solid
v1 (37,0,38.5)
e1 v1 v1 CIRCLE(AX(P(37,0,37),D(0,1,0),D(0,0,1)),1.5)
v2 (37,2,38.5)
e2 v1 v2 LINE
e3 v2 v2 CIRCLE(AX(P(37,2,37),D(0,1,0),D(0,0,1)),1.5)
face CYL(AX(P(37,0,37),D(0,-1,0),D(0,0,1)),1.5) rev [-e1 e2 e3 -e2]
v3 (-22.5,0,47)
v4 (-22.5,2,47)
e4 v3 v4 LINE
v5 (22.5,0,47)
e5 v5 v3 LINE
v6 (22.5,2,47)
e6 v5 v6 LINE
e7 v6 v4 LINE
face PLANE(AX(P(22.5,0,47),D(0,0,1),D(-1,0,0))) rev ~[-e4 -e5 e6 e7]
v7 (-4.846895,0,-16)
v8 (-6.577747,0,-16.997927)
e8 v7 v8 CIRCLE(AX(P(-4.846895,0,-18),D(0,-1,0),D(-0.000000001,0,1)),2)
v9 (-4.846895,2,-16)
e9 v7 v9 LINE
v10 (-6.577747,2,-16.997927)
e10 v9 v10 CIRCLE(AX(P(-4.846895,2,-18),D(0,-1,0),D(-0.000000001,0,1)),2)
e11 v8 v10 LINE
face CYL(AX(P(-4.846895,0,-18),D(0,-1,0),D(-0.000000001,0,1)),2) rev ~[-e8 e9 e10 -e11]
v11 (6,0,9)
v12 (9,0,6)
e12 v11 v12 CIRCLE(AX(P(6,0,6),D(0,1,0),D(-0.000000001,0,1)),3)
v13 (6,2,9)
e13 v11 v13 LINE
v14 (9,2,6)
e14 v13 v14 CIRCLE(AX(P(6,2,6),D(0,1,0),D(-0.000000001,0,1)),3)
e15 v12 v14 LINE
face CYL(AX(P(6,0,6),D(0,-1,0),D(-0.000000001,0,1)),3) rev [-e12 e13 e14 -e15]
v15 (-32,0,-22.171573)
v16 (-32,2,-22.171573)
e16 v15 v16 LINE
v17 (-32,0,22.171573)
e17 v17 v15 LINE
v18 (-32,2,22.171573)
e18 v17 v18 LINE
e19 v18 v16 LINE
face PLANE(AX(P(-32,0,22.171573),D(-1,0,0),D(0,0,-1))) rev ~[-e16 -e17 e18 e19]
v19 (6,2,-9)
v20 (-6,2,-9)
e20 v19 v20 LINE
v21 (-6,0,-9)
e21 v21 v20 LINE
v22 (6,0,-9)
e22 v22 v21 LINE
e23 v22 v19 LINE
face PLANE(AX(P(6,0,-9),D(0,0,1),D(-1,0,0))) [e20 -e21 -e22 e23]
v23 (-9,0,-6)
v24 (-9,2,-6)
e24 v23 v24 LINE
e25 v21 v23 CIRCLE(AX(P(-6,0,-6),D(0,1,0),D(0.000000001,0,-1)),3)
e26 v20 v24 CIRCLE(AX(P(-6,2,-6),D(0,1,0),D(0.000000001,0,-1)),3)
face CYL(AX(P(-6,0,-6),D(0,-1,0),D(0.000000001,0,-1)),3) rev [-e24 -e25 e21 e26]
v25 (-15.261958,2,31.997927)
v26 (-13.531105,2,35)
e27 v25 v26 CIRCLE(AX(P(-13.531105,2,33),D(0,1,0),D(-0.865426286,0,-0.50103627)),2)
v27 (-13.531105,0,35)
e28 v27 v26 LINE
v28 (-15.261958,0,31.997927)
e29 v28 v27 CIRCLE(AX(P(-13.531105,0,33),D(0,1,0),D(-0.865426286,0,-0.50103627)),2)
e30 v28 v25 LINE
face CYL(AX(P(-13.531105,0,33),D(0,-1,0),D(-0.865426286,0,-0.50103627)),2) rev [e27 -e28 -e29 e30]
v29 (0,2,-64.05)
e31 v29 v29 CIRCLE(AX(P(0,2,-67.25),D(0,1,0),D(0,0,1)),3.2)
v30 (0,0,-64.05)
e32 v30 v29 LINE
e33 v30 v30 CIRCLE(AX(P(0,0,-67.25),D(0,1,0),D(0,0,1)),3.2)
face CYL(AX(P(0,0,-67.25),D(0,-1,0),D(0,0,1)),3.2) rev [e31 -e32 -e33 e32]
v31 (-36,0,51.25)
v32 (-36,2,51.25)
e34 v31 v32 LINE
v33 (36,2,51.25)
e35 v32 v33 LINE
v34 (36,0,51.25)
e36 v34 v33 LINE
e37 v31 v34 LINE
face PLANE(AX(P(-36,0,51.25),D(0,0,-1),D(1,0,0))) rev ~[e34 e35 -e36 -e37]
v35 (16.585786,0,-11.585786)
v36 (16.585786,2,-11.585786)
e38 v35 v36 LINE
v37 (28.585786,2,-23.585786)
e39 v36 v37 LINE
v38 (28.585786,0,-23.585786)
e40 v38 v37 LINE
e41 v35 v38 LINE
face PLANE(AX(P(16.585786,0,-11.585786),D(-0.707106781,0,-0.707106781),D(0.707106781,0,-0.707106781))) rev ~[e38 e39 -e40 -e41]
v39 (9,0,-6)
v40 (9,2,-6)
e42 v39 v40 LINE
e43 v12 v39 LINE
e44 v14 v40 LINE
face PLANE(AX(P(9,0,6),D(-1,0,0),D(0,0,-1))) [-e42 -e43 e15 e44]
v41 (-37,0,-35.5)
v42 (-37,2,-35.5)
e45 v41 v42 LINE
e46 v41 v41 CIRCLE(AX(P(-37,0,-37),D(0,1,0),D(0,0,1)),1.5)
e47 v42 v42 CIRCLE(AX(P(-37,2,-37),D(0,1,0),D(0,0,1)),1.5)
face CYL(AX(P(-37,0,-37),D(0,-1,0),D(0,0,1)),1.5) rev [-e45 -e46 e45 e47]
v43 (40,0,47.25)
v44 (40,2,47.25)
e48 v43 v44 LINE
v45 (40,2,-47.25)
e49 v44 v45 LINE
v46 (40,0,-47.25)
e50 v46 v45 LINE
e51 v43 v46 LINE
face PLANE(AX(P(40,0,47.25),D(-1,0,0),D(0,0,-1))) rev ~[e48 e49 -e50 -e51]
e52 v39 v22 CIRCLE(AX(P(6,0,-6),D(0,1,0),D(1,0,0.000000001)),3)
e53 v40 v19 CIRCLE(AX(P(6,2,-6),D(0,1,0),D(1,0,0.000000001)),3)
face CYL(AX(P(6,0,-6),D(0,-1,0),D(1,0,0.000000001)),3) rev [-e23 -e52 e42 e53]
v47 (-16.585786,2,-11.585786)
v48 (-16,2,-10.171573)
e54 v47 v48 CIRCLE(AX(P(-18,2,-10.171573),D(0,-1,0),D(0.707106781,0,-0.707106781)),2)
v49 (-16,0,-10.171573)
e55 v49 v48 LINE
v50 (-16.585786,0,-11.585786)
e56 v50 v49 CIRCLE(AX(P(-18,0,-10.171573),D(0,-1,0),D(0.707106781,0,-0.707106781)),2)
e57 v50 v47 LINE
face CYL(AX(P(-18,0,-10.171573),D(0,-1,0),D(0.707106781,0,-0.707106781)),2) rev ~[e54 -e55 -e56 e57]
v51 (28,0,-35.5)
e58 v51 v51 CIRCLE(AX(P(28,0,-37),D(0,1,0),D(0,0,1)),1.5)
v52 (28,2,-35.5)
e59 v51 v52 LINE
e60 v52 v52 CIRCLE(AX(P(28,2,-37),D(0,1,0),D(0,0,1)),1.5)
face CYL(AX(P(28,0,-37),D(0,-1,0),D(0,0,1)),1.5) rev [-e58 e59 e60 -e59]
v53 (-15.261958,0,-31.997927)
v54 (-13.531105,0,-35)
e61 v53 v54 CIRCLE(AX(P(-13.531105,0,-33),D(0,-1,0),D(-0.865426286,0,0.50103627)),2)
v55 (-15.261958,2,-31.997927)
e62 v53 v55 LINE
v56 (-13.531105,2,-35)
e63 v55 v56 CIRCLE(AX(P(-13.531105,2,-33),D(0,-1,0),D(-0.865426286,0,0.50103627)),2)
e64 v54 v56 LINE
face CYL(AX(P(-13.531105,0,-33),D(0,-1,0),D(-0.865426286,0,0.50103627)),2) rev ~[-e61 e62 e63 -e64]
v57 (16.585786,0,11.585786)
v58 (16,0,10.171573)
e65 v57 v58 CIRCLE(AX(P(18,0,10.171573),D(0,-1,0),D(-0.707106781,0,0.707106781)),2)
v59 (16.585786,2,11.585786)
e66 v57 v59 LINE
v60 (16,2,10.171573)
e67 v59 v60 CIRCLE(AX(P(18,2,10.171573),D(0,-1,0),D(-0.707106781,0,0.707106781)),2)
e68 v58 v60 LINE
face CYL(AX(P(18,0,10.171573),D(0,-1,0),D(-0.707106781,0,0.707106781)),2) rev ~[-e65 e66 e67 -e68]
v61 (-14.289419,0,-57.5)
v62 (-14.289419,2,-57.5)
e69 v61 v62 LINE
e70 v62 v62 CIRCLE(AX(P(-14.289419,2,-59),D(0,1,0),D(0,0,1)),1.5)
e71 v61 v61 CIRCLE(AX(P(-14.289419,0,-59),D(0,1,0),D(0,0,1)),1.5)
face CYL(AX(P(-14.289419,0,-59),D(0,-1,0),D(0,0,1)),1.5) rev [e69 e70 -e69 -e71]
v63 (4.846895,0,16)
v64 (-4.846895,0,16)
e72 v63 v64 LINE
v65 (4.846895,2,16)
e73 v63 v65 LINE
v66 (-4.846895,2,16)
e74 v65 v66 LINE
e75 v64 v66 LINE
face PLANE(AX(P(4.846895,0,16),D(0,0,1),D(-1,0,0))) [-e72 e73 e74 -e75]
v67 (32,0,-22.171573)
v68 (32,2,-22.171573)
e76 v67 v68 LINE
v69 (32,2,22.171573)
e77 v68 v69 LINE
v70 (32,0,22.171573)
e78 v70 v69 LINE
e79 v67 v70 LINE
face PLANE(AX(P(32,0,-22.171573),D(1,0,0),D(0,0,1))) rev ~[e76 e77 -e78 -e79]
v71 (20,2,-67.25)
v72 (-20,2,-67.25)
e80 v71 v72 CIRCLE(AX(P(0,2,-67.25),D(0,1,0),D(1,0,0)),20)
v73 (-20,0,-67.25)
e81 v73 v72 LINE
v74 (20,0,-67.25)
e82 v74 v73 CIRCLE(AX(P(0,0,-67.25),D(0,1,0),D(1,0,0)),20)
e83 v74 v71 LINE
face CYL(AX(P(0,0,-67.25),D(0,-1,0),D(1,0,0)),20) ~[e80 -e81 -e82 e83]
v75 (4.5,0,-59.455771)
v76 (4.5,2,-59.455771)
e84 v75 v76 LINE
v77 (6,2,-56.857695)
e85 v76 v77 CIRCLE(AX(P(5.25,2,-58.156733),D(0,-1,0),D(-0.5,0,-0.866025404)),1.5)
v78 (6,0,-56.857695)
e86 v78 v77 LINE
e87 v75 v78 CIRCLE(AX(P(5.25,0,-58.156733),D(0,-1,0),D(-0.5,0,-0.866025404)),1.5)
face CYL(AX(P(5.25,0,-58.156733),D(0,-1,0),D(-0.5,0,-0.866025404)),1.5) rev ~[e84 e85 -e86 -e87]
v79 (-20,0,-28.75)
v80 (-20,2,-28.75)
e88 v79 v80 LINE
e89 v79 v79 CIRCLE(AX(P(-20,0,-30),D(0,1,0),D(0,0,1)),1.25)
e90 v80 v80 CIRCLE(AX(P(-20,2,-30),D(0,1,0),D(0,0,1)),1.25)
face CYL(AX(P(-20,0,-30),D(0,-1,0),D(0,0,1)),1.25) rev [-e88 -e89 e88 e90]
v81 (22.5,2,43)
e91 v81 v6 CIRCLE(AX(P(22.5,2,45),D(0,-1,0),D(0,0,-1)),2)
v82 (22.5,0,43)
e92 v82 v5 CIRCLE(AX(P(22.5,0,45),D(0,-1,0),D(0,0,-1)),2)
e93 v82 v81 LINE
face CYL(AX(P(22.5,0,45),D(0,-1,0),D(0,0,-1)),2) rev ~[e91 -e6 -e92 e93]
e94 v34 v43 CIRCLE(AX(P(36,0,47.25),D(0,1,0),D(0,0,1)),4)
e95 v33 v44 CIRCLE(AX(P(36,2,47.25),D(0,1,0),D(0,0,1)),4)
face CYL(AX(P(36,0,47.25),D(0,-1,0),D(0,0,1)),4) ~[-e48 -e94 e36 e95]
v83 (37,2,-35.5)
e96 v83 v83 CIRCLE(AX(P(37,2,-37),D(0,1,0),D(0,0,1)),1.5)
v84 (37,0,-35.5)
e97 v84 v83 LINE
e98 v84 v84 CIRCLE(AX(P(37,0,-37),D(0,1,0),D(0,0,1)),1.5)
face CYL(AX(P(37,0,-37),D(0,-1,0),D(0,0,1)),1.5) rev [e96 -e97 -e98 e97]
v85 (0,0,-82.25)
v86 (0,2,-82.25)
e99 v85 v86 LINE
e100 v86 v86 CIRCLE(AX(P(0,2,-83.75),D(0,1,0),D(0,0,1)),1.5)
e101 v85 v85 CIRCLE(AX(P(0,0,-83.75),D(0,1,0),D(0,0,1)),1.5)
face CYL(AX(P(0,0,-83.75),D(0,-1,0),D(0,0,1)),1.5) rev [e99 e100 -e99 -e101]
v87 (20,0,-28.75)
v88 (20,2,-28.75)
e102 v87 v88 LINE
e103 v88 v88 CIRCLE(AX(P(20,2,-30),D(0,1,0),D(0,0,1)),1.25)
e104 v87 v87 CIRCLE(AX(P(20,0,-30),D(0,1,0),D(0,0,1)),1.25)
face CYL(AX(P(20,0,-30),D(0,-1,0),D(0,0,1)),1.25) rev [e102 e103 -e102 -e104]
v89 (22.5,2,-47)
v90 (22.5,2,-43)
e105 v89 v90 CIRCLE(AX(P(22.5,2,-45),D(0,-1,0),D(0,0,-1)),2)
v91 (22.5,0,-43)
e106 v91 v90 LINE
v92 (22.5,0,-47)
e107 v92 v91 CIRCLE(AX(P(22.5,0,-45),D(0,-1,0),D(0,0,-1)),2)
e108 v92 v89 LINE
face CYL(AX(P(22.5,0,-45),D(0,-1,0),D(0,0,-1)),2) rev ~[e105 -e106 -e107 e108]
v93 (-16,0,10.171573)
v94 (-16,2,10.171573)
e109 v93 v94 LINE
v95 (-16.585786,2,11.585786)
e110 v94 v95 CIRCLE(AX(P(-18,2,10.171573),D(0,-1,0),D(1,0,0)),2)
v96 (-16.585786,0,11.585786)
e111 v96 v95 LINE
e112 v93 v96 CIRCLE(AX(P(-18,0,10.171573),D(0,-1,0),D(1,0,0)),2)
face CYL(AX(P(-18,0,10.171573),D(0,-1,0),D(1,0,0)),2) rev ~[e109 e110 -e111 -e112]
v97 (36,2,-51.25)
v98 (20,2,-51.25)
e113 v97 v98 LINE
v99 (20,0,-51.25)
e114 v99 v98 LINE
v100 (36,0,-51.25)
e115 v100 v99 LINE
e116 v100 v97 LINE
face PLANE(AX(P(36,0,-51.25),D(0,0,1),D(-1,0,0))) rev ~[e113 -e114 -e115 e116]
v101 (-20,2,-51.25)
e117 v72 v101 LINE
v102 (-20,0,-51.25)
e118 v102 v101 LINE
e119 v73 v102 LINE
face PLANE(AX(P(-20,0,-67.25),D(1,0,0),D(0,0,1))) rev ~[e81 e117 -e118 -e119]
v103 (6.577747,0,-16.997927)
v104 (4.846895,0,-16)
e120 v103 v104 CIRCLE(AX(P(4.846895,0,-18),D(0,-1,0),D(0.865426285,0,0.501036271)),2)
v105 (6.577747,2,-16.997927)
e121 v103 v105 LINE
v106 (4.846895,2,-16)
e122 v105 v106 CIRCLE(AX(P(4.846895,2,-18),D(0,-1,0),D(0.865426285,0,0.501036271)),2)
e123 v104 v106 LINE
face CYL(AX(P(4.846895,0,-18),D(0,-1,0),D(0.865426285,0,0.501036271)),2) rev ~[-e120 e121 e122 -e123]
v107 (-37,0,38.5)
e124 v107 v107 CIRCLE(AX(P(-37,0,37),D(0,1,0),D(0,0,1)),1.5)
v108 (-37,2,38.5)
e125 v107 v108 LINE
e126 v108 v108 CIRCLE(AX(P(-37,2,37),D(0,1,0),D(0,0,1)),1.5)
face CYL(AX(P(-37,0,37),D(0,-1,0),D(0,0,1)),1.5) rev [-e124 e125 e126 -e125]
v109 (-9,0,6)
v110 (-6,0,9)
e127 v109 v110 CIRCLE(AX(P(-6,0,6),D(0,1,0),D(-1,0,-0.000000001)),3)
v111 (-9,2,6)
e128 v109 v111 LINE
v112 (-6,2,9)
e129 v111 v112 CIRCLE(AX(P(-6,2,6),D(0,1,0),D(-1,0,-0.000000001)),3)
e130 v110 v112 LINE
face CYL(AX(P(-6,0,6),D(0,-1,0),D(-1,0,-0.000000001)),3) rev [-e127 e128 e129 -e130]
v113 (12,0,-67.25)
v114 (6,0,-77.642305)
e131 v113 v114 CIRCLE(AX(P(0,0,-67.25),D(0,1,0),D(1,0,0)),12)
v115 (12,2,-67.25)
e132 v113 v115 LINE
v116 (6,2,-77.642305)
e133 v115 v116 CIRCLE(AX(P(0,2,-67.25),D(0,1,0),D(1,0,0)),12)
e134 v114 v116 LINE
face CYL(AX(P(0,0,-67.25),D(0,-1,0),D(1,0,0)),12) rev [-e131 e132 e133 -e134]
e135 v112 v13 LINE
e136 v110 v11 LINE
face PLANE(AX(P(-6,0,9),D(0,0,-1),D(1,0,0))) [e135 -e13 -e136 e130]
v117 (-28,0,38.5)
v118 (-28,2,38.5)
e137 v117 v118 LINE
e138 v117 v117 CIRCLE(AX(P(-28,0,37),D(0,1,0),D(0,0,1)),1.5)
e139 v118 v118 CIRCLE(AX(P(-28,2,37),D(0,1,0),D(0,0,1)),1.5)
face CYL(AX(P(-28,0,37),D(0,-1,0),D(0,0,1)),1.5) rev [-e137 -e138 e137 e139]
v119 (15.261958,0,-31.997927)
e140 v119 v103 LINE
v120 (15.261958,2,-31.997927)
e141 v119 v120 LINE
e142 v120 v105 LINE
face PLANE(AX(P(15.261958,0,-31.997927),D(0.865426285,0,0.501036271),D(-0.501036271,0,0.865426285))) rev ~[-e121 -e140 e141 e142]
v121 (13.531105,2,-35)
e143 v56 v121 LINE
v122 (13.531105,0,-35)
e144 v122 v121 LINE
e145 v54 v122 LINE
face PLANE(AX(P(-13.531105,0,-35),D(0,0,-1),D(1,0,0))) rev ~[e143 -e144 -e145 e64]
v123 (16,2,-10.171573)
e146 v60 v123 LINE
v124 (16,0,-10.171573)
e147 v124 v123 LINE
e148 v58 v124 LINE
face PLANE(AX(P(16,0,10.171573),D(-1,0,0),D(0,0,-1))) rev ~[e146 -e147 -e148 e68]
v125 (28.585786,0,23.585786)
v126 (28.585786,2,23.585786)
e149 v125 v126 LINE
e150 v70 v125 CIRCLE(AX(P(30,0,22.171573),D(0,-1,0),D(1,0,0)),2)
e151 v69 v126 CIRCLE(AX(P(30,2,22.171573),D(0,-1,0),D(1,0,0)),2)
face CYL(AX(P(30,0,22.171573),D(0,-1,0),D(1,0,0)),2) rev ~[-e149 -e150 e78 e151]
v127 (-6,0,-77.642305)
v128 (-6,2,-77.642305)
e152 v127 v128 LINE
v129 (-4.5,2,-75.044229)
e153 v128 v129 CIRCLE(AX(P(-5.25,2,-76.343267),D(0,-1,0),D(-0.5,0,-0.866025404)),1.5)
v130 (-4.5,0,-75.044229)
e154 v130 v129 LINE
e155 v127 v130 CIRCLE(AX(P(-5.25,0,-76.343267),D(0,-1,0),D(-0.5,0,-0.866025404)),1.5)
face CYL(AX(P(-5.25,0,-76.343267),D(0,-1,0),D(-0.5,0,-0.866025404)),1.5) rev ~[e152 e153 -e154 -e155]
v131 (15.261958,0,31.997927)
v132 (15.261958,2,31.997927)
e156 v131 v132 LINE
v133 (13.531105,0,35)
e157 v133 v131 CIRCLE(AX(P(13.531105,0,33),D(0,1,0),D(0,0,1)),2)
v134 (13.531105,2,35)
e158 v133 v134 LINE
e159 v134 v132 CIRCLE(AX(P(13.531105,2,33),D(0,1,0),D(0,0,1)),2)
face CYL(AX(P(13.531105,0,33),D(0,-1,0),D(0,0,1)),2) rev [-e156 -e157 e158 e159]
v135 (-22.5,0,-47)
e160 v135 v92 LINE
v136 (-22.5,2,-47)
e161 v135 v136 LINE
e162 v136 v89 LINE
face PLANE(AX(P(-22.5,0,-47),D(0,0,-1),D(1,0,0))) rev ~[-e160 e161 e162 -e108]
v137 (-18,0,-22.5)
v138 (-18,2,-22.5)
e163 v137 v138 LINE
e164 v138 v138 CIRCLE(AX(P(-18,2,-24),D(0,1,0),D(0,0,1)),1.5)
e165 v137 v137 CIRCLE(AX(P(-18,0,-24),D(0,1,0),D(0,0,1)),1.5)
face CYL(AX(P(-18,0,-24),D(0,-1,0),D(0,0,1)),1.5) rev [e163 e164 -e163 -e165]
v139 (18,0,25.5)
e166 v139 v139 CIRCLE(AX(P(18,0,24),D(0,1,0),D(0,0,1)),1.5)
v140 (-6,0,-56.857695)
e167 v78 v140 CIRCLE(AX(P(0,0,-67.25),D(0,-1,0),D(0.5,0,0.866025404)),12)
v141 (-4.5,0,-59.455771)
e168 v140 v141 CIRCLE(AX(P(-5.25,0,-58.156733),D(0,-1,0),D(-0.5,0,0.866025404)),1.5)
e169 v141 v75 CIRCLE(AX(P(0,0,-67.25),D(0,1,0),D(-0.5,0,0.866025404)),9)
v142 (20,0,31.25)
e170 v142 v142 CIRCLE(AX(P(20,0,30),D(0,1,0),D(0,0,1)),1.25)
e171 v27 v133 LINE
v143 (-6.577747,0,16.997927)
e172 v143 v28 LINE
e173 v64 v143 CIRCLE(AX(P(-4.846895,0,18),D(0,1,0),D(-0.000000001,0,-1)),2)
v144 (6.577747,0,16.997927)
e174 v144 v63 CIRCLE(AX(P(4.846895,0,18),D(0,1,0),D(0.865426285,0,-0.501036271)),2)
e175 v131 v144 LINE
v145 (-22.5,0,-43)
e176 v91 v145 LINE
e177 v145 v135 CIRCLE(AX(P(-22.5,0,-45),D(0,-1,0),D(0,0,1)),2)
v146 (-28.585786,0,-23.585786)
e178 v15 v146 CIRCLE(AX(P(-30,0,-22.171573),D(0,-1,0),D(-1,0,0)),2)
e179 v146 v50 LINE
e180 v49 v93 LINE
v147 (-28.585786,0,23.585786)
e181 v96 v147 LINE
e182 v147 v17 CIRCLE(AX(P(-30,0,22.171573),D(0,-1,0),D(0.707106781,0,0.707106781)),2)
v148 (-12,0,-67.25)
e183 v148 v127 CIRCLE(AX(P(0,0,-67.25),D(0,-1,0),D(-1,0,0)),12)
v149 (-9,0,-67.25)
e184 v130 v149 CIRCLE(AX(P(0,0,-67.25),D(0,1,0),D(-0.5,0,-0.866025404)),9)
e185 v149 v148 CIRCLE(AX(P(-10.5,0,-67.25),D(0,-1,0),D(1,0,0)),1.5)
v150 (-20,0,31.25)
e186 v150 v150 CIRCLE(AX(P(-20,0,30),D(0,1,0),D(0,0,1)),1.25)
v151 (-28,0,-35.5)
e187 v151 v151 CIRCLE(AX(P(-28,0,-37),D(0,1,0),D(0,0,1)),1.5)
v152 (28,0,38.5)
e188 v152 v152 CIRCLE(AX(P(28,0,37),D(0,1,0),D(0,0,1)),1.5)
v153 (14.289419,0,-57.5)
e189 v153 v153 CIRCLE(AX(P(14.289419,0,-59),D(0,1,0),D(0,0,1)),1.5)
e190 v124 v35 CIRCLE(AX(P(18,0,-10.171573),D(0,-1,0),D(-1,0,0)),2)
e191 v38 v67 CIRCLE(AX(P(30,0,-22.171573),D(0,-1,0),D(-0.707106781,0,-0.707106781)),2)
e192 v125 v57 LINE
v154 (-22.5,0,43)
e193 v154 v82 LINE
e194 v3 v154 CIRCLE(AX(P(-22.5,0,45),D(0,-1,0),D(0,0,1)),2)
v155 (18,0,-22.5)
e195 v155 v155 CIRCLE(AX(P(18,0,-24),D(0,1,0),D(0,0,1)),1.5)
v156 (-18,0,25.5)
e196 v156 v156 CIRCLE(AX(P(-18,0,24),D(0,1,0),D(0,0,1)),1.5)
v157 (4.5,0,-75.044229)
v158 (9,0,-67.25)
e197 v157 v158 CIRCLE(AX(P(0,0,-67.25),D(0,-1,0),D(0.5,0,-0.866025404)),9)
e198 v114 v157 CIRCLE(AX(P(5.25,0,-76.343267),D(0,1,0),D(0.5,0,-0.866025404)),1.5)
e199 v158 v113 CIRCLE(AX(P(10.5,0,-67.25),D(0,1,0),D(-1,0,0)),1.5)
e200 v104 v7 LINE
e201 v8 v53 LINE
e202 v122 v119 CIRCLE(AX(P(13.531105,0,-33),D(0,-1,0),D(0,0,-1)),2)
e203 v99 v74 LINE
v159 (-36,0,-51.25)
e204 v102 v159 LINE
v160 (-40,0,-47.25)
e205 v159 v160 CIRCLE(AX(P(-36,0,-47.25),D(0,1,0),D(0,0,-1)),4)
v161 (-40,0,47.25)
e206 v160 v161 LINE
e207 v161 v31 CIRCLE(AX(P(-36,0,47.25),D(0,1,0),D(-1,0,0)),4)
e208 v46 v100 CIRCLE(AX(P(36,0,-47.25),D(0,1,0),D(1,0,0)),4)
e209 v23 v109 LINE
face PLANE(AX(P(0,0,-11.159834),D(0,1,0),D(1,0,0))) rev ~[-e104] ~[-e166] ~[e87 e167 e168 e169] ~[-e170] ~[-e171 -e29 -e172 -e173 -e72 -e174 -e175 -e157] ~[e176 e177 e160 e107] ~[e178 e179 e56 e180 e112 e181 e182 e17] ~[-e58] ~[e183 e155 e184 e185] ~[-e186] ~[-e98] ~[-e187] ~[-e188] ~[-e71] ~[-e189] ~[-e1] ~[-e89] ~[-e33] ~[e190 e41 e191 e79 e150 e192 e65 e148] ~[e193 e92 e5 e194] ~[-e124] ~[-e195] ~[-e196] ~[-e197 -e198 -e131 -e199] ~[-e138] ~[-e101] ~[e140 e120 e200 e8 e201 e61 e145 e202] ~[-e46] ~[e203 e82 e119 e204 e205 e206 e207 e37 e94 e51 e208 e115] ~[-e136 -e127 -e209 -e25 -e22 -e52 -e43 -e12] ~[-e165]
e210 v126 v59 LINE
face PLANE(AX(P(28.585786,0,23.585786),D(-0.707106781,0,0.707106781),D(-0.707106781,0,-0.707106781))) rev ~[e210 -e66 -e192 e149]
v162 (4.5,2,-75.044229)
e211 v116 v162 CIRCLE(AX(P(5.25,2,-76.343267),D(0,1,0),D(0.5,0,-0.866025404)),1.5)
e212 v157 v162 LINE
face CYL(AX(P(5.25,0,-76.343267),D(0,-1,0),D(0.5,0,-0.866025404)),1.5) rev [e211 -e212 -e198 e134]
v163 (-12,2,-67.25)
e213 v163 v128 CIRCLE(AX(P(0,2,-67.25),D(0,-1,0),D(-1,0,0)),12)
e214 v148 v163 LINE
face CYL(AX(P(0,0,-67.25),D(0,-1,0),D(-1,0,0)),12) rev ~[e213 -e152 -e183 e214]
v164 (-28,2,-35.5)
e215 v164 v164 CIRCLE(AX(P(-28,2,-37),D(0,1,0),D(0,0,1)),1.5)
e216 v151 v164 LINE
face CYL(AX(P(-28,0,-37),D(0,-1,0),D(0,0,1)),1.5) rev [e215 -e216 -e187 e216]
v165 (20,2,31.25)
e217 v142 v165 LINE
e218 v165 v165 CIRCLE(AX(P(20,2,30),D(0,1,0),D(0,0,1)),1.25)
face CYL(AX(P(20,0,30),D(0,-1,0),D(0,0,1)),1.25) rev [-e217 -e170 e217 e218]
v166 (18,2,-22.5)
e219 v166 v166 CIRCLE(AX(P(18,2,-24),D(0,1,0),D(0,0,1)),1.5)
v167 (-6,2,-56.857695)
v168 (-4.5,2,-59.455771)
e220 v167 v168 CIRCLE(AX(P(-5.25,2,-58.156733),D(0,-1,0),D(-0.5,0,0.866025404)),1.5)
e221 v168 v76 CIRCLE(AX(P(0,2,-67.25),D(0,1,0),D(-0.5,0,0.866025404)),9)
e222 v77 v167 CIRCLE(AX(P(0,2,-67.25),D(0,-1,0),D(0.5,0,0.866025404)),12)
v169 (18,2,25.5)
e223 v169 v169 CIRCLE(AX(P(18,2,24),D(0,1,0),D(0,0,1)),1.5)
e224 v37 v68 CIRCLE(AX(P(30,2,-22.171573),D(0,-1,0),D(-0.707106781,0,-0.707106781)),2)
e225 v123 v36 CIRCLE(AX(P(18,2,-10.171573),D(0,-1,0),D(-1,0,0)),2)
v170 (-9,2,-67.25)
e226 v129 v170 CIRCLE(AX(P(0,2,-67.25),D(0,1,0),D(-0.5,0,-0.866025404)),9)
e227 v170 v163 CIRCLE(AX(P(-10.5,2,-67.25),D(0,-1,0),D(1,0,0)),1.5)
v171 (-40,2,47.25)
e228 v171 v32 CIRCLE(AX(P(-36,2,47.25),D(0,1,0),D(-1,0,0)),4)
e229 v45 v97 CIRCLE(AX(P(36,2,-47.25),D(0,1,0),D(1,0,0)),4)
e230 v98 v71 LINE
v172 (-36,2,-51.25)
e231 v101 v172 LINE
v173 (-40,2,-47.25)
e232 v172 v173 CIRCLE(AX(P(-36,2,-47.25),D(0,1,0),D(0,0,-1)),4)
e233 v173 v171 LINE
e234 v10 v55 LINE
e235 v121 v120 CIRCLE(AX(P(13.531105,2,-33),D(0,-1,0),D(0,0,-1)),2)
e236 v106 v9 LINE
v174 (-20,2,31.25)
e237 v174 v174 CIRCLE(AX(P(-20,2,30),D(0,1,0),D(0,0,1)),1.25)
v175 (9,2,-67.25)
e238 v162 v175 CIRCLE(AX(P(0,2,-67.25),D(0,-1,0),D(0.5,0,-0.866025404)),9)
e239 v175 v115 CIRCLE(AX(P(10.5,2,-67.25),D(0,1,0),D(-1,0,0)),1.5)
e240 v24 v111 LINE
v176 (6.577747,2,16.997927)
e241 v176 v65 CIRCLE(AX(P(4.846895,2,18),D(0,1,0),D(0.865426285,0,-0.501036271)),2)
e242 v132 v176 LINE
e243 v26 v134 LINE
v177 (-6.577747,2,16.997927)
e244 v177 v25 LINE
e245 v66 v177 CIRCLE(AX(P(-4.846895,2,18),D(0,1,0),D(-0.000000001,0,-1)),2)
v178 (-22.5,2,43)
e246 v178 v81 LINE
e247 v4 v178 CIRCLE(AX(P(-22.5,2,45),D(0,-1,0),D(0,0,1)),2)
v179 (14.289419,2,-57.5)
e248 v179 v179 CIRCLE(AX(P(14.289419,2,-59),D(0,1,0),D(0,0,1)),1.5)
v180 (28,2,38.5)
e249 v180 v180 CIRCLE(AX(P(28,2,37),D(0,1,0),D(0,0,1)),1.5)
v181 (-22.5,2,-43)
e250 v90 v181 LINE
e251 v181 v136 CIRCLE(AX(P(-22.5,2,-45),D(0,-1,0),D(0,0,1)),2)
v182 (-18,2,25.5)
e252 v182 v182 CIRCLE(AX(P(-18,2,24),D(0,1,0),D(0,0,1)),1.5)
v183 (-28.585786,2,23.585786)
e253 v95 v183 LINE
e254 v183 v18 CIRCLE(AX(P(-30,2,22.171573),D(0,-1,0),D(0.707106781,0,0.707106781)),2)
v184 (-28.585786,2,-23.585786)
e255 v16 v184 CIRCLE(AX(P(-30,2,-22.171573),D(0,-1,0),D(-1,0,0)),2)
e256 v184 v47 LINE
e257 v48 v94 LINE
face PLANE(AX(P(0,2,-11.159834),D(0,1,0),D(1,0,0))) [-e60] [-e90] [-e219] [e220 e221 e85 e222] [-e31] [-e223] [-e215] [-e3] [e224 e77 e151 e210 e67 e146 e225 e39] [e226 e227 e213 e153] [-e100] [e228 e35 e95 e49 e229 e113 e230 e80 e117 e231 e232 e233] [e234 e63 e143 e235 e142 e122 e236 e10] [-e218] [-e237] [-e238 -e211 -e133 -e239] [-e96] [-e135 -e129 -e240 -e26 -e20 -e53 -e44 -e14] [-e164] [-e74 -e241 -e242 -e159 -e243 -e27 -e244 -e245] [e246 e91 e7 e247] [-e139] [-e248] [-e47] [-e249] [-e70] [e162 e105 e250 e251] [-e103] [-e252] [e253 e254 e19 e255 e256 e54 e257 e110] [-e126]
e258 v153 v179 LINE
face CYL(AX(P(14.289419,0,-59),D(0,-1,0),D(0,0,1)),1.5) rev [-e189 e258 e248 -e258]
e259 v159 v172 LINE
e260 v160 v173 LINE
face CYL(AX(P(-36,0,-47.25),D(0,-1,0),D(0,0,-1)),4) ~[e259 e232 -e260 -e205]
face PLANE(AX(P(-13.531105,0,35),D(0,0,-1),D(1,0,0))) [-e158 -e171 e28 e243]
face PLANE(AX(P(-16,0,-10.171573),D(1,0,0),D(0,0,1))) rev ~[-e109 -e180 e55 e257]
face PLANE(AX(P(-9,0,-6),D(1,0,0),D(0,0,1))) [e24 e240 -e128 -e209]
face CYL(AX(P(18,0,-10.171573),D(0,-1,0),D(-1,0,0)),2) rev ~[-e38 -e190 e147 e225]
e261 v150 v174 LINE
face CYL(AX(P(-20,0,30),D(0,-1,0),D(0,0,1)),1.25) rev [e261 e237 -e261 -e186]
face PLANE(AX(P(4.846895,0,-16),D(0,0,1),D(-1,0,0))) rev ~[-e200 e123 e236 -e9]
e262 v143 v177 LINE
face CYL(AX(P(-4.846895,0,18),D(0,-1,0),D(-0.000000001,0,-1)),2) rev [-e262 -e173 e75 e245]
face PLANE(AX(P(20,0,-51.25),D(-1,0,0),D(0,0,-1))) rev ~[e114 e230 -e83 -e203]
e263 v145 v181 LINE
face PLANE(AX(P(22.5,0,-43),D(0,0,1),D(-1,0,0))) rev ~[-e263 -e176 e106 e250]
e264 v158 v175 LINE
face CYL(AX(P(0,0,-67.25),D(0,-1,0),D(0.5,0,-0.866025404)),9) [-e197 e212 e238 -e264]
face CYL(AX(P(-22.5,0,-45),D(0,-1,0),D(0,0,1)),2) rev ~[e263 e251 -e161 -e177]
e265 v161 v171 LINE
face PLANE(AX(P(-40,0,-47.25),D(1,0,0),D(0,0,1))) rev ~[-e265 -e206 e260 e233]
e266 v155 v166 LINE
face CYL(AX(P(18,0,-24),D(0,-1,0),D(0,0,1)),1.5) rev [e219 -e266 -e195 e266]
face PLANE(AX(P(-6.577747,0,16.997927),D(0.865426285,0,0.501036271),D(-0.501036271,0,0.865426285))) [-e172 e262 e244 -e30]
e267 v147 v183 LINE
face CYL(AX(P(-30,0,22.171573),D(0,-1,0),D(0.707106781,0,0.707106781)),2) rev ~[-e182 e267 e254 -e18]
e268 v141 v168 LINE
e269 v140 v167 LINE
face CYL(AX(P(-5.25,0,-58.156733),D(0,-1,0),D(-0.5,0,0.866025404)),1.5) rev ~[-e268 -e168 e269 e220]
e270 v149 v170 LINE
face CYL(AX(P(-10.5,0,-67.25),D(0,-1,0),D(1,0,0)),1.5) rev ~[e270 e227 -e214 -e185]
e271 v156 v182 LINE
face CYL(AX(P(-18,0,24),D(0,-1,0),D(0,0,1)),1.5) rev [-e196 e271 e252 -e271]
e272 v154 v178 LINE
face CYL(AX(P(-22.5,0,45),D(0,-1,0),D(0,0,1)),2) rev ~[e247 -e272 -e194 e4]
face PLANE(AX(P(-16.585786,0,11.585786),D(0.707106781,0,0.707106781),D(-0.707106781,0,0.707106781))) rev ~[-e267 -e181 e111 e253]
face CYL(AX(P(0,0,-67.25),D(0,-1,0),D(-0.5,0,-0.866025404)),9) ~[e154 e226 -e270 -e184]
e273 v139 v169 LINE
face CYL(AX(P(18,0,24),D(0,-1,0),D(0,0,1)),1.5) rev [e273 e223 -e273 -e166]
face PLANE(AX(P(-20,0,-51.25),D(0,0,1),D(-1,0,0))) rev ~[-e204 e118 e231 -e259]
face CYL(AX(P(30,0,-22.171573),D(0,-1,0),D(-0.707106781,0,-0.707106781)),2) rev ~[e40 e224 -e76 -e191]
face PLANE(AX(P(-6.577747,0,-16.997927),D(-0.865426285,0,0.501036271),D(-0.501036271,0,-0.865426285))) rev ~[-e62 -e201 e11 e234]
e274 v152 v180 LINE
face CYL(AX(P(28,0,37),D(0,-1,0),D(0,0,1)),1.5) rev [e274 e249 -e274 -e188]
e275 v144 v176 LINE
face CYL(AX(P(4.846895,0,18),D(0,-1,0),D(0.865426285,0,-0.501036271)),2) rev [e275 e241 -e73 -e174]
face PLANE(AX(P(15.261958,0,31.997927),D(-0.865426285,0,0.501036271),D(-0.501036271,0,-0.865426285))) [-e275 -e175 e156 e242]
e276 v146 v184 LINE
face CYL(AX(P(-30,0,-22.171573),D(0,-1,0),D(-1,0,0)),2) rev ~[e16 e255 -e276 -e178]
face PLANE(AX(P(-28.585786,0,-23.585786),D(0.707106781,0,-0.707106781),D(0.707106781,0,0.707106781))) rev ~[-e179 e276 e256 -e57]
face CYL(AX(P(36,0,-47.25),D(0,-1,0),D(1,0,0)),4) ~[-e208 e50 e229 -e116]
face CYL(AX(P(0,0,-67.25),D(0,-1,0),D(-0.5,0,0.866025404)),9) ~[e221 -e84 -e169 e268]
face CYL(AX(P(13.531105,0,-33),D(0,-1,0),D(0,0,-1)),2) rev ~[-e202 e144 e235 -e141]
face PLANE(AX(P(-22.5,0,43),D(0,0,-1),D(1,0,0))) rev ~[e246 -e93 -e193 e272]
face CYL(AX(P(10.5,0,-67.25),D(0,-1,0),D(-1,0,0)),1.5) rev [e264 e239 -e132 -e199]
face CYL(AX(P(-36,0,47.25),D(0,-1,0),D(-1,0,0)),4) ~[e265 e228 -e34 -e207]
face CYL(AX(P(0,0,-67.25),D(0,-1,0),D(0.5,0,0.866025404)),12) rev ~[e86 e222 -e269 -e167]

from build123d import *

# Parameters (mm, degrees)
SKETCH_1_R      = 1.5
SKETCH_1_R_2    = 1.25
SKETCH_1_R_3    = 3.2
EXTRUDE_1_DEPTH = 2


with BuildPart() as part:
    # 草图1 → 凸台-拉伸1 (new body)
    with BuildSketch(Plane(origin=(0, 0, 0), x_dir=(1, 0, 0), z_dir=(0, 1, 0))):
        with BuildLine():
            Line((-20, 67.25), (-20, 51.25))
            Line((-20, 51.25), (-36, 51.25))
            ThreePointArc((-36, 51.25), (-38.828427125, 50.078427125), (-40, 47.25))
            Line((-40, 47.25), (-40, -47.25))
            ThreePointArc((-40, -47.25), (-38.828427125, -50.078427125), (-36, -51.25))
            Line((-36, -51.25), (36, -51.25))
            ThreePointArc((36, -51.25), (38.828427125, -50.078427125), (40, -47.25))
            Line((40, -47.25), (40, 47.25))
            ThreePointArc((40, 47.25), (38.828427125, 50.078427125), (36, 51.25))
            Line((36, 51.25), (20, 51.25))
            Line((20, 51.25), (20, 67.25))
            ThreePointArc((20, 67.25), (0, 87.25), (-20, 67.25))
        make_face()
        with Locations(Location((-28, 37, 0), (0, 0, 270))):
            Circle(SKETCH_1_R, mode=Mode.SUBTRACT)
        with Locations(Location((28, 37, 0), (0, 0, 270))):
            Circle(SKETCH_1_R, mode=Mode.SUBTRACT)
        with Locations(Location((-28, -37, 0), (0, 0, 270))):
            Circle(SKETCH_1_R, mode=Mode.SUBTRACT)
        with Locations(Location((28, -37, 0), (0, 0, 270))):
            Circle(SKETCH_1_R, mode=Mode.SUBTRACT)
        with Locations(Location((-20, 30, 0), (0, 0, 270))):
            Circle(SKETCH_1_R_2, mode=Mode.SUBTRACT)
        with Locations(Location((20, 30, 0), (0, 0, 270))):
            Circle(SKETCH_1_R_2, mode=Mode.SUBTRACT)
        with Locations(Location((-20, -30, 0), (0, 0, 270))):
            Circle(SKETCH_1_R_2, mode=Mode.SUBTRACT)
        with Locations(Location((20, -30, 0), (0, 0, 270))):
            Circle(SKETCH_1_R_2, mode=Mode.SUBTRACT)
        with Locations(Location((37, -37, 0), (0, 0, 270))):
            Circle(SKETCH_1_R, mode=Mode.SUBTRACT)
        with Locations(Location((-37, -37, 0), (0, 0, 270))):
            Circle(SKETCH_1_R, mode=Mode.SUBTRACT)
        with Locations(Location((-37, 37, 0), (0, 0, 270))):
            Circle(SKETCH_1_R, mode=Mode.SUBTRACT)
        with Locations(Location((37, 37, 0), (0, 0, 270))):
            Circle(SKETCH_1_R, mode=Mode.SUBTRACT)
        with Locations(Location((0, 67.25, 0), (0, 0, 270))):
            Circle(SKETCH_1_R_3, mode=Mode.SUBTRACT)
        with Locations(Location((0, 83.75, 0), (0, 0, 270))):
            Circle(SKETCH_1_R, mode=Mode.SUBTRACT)
        with Locations(Location((14.289419162, 59, 0), (0, 0, 270))):
            Circle(SKETCH_1_R, mode=Mode.SUBTRACT)
        with Locations(Location((-14.289419162, 59, 0), (0, 0, 270))):
            Circle(SKETCH_1_R, mode=Mode.SUBTRACT)
        with Locations(Location((-18, 24, 0), (0, 0, 270))):
            Circle(SKETCH_1_R, mode=Mode.SUBTRACT)
        with Locations(Location((18, 24, 0), (0, 0, 270))):
            Circle(SKETCH_1_R, mode=Mode.SUBTRACT)
        with Locations(Location((-18, -24, 0), (0, 0, 270))):
            Circle(SKETCH_1_R, mode=Mode.SUBTRACT)
        with Locations(Location((18, -24, 0), (0, 0, 270))):
            Circle(SKETCH_1_R, mode=Mode.SUBTRACT)
        with BuildLine():
            Line((-22.5, 47), (22.5, 47))
            ThreePointArc((22.5, 47), (24.5, 45), (22.5, 43))
            Line((22.5, 43), (-22.5, 43))
            ThreePointArc((-22.5, 43), (-24.5, 45), (-22.5, 47))
        make_face(mode=Mode.SUBTRACT)
        with BuildLine():
            Line((-13.531105432, 35), (13.531105432, 35))
            ThreePointArc((13.531105432, 35), (15.263754427, 33.998963192), (15.261958003, 31.997927459))
            Line((15.261958003, 31.997927459), (6.577747476, 16.997927459))
            ThreePointArc((6.577747476, 16.997927459), (5.845858097, 16.267351005), (4.846894905, 16))
            Line((4.846894905, 16), (-4.846894905, 16))
            ThreePointArc((-4.846894905, 16), (-5.845858097, 16.267351005), (-6.577747476, 16.997927459))
            Line((-6.577747476, 16.997927459), (-15.261958003, 31.997927459))
            ThreePointArc((-15.261958003, 31.997927459), (-15.263754427, 33.998963192), (-13.531105432, 35))
        make_face(mode=Mode.SUBTRACT)
        with BuildLine():
            Line((16.585786438, 11.585786438), (28.585786438, 23.585786438))
            ThreePointArc((28.585786438, 23.585786438), (30.765366865, 24.01933194), (32, 22.171572875))
            Line((32, 22.171572875), (32, -22.171572875))
            ThreePointArc((32, -22.171572875), (30.765366865, -24.01933194), (28.585786438, -23.585786438))
            Line((28.585786438, -23.585786438), (16.585786438, -11.585786438))
            ThreePointArc((16.585786438, -11.585786438), (16.152240935, -10.93693974), (16, -10.171572875))
            Line((16, -10.171572875), (16, 10.171572875))
            ThreePointArc((16, 10.171572875), (16.152240935, 10.93693974), (16.585786438, 11.585786438))
        make_face(mode=Mode.SUBTRACT)
        with BuildLine():
            Line((4.846894905, -16), (-4.846894905, -16))
            ThreePointArc((-4.846894905, -16), (-5.845858097, -16.267351005), (-6.577747476, -16.997927459))
            Line((-6.577747476, -16.997927459), (-15.261958003, -31.997927459))
            ThreePointArc((-15.261958003, -31.997927459), (-15.263754427, -33.998963192), (-13.531105432, -35))
            Line((-13.531105432, -35), (13.531105432, -35))
            ThreePointArc((13.531105432, -35), (15.263754427, -33.998963192), (15.261958003, -31.997927459))
            Line((15.261958003, -31.997927459), (6.577747476, -16.997927459))
            ThreePointArc((6.577747476, -16.997927459), (5.845858097, -16.267351005), (4.846894905, -16))
        make_face(mode=Mode.SUBTRACT)
        with BuildLine():
            Line((-16.585786438, -11.585786438), (-28.585786438, -23.585786438))
            ThreePointArc((-28.585786438, -23.585786438), (-30.765366865, -24.01933194), (-32, -22.171572875))
            Line((-32, -22.171572875), (-32, 22.171572875))
            ThreePointArc((-32, 22.171572875), (-30.765366865, 24.01933194), (-28.585786438, 23.585786438))
            Line((-28.585786438, 23.585786438), (-16.585786438, 11.585786438))
            ThreePointArc((-16.585786438, 11.585786438), (-16.152240935, 10.93693974), (-16, 10.171572875))
            Line((-16, 10.171572875), (-16, -10.171572875))
            ThreePointArc((-16, -10.171572875), (-16.152240935, -10.93693974), (-16.585786438, -11.585786438))
        make_face(mode=Mode.SUBTRACT)
        with BuildLine():
            Line((-6, -9), (6, -9))
            ThreePointArc((6, -9), (8.121320344, -8.121320344), (9, -6))
            Line((9, -6), (9, 6))
            ThreePointArc((9, 6), (8.121320344, 8.121320344), (6, 9))
            Line((6, 9), (-6, 9))
            ThreePointArc((-6, 9), (-8.121320344, 8.121320344), (-9, 6))
            Line((-9, 6), (-9, -6))
            ThreePointArc((-9, -6), (-8.121320344, -8.121320344), (-6, -9))
        make_face(mode=Mode.SUBTRACT)
        with BuildLine():
            Line((-22.5, -43), (22.5, -43))
            ThreePointArc((22.5, -43), (24.5, -45), (22.5, -47))
            Line((22.5, -47), (-22.5, -47))
            ThreePointArc((-22.5, -47), (-24.5, -45), (-22.5, -43))
        make_face(mode=Mode.SUBTRACT)
        with BuildLine():
            ThreePointArc((4.5, 75.044228634), (7.794228634, 71.75), (9, 67.25))
            ThreePointArc((9, 67.25), (10.5, 65.75), (12, 67.25))
            ThreePointArc((12, 67.25), (10.392304845, 73.25), (6, 77.642304845))
            ThreePointArc((6, 77.642304845), (3.950961894, 77.09326674), (4.5, 75.044228634))
        make_face(mode=Mode.SUBTRACT)
        with BuildLine():
            ThreePointArc((-6, 56.857695155), (-6.549038106, 58.90673326), (-4.5, 59.455771366))
            ThreePointArc((-4.5, 59.455771366), (0, 58.25), (4.5, 59.455771366))
            ThreePointArc((4.5, 59.455771366), (6.549038106, 58.90673326), (6, 56.857695155))
            ThreePointArc((6, 56.857695155), (0, 55.25), (-6, 56.857695155))
        make_face(mode=Mode.SUBTRACT)
        with BuildLine():
            ThreePointArc((-6, 77.642304845), (-3.950961894, 77.09326674), (-4.5, 75.044228634))
            ThreePointArc((-4.5, 75.044228634), (-7.794228634, 71.75), (-9, 67.25))
            ThreePointArc((-9, 67.25), (-10.5, 65.75), (-12, 67.25))
            ThreePointArc((-12, 67.25), (-10.392304845, 73.25), (-6, 77.642304845))
        make_face(mode=Mode.SUBTRACT)
    extrude(amount=EXTRUDE_1_DEPTH)


solid = part.part
